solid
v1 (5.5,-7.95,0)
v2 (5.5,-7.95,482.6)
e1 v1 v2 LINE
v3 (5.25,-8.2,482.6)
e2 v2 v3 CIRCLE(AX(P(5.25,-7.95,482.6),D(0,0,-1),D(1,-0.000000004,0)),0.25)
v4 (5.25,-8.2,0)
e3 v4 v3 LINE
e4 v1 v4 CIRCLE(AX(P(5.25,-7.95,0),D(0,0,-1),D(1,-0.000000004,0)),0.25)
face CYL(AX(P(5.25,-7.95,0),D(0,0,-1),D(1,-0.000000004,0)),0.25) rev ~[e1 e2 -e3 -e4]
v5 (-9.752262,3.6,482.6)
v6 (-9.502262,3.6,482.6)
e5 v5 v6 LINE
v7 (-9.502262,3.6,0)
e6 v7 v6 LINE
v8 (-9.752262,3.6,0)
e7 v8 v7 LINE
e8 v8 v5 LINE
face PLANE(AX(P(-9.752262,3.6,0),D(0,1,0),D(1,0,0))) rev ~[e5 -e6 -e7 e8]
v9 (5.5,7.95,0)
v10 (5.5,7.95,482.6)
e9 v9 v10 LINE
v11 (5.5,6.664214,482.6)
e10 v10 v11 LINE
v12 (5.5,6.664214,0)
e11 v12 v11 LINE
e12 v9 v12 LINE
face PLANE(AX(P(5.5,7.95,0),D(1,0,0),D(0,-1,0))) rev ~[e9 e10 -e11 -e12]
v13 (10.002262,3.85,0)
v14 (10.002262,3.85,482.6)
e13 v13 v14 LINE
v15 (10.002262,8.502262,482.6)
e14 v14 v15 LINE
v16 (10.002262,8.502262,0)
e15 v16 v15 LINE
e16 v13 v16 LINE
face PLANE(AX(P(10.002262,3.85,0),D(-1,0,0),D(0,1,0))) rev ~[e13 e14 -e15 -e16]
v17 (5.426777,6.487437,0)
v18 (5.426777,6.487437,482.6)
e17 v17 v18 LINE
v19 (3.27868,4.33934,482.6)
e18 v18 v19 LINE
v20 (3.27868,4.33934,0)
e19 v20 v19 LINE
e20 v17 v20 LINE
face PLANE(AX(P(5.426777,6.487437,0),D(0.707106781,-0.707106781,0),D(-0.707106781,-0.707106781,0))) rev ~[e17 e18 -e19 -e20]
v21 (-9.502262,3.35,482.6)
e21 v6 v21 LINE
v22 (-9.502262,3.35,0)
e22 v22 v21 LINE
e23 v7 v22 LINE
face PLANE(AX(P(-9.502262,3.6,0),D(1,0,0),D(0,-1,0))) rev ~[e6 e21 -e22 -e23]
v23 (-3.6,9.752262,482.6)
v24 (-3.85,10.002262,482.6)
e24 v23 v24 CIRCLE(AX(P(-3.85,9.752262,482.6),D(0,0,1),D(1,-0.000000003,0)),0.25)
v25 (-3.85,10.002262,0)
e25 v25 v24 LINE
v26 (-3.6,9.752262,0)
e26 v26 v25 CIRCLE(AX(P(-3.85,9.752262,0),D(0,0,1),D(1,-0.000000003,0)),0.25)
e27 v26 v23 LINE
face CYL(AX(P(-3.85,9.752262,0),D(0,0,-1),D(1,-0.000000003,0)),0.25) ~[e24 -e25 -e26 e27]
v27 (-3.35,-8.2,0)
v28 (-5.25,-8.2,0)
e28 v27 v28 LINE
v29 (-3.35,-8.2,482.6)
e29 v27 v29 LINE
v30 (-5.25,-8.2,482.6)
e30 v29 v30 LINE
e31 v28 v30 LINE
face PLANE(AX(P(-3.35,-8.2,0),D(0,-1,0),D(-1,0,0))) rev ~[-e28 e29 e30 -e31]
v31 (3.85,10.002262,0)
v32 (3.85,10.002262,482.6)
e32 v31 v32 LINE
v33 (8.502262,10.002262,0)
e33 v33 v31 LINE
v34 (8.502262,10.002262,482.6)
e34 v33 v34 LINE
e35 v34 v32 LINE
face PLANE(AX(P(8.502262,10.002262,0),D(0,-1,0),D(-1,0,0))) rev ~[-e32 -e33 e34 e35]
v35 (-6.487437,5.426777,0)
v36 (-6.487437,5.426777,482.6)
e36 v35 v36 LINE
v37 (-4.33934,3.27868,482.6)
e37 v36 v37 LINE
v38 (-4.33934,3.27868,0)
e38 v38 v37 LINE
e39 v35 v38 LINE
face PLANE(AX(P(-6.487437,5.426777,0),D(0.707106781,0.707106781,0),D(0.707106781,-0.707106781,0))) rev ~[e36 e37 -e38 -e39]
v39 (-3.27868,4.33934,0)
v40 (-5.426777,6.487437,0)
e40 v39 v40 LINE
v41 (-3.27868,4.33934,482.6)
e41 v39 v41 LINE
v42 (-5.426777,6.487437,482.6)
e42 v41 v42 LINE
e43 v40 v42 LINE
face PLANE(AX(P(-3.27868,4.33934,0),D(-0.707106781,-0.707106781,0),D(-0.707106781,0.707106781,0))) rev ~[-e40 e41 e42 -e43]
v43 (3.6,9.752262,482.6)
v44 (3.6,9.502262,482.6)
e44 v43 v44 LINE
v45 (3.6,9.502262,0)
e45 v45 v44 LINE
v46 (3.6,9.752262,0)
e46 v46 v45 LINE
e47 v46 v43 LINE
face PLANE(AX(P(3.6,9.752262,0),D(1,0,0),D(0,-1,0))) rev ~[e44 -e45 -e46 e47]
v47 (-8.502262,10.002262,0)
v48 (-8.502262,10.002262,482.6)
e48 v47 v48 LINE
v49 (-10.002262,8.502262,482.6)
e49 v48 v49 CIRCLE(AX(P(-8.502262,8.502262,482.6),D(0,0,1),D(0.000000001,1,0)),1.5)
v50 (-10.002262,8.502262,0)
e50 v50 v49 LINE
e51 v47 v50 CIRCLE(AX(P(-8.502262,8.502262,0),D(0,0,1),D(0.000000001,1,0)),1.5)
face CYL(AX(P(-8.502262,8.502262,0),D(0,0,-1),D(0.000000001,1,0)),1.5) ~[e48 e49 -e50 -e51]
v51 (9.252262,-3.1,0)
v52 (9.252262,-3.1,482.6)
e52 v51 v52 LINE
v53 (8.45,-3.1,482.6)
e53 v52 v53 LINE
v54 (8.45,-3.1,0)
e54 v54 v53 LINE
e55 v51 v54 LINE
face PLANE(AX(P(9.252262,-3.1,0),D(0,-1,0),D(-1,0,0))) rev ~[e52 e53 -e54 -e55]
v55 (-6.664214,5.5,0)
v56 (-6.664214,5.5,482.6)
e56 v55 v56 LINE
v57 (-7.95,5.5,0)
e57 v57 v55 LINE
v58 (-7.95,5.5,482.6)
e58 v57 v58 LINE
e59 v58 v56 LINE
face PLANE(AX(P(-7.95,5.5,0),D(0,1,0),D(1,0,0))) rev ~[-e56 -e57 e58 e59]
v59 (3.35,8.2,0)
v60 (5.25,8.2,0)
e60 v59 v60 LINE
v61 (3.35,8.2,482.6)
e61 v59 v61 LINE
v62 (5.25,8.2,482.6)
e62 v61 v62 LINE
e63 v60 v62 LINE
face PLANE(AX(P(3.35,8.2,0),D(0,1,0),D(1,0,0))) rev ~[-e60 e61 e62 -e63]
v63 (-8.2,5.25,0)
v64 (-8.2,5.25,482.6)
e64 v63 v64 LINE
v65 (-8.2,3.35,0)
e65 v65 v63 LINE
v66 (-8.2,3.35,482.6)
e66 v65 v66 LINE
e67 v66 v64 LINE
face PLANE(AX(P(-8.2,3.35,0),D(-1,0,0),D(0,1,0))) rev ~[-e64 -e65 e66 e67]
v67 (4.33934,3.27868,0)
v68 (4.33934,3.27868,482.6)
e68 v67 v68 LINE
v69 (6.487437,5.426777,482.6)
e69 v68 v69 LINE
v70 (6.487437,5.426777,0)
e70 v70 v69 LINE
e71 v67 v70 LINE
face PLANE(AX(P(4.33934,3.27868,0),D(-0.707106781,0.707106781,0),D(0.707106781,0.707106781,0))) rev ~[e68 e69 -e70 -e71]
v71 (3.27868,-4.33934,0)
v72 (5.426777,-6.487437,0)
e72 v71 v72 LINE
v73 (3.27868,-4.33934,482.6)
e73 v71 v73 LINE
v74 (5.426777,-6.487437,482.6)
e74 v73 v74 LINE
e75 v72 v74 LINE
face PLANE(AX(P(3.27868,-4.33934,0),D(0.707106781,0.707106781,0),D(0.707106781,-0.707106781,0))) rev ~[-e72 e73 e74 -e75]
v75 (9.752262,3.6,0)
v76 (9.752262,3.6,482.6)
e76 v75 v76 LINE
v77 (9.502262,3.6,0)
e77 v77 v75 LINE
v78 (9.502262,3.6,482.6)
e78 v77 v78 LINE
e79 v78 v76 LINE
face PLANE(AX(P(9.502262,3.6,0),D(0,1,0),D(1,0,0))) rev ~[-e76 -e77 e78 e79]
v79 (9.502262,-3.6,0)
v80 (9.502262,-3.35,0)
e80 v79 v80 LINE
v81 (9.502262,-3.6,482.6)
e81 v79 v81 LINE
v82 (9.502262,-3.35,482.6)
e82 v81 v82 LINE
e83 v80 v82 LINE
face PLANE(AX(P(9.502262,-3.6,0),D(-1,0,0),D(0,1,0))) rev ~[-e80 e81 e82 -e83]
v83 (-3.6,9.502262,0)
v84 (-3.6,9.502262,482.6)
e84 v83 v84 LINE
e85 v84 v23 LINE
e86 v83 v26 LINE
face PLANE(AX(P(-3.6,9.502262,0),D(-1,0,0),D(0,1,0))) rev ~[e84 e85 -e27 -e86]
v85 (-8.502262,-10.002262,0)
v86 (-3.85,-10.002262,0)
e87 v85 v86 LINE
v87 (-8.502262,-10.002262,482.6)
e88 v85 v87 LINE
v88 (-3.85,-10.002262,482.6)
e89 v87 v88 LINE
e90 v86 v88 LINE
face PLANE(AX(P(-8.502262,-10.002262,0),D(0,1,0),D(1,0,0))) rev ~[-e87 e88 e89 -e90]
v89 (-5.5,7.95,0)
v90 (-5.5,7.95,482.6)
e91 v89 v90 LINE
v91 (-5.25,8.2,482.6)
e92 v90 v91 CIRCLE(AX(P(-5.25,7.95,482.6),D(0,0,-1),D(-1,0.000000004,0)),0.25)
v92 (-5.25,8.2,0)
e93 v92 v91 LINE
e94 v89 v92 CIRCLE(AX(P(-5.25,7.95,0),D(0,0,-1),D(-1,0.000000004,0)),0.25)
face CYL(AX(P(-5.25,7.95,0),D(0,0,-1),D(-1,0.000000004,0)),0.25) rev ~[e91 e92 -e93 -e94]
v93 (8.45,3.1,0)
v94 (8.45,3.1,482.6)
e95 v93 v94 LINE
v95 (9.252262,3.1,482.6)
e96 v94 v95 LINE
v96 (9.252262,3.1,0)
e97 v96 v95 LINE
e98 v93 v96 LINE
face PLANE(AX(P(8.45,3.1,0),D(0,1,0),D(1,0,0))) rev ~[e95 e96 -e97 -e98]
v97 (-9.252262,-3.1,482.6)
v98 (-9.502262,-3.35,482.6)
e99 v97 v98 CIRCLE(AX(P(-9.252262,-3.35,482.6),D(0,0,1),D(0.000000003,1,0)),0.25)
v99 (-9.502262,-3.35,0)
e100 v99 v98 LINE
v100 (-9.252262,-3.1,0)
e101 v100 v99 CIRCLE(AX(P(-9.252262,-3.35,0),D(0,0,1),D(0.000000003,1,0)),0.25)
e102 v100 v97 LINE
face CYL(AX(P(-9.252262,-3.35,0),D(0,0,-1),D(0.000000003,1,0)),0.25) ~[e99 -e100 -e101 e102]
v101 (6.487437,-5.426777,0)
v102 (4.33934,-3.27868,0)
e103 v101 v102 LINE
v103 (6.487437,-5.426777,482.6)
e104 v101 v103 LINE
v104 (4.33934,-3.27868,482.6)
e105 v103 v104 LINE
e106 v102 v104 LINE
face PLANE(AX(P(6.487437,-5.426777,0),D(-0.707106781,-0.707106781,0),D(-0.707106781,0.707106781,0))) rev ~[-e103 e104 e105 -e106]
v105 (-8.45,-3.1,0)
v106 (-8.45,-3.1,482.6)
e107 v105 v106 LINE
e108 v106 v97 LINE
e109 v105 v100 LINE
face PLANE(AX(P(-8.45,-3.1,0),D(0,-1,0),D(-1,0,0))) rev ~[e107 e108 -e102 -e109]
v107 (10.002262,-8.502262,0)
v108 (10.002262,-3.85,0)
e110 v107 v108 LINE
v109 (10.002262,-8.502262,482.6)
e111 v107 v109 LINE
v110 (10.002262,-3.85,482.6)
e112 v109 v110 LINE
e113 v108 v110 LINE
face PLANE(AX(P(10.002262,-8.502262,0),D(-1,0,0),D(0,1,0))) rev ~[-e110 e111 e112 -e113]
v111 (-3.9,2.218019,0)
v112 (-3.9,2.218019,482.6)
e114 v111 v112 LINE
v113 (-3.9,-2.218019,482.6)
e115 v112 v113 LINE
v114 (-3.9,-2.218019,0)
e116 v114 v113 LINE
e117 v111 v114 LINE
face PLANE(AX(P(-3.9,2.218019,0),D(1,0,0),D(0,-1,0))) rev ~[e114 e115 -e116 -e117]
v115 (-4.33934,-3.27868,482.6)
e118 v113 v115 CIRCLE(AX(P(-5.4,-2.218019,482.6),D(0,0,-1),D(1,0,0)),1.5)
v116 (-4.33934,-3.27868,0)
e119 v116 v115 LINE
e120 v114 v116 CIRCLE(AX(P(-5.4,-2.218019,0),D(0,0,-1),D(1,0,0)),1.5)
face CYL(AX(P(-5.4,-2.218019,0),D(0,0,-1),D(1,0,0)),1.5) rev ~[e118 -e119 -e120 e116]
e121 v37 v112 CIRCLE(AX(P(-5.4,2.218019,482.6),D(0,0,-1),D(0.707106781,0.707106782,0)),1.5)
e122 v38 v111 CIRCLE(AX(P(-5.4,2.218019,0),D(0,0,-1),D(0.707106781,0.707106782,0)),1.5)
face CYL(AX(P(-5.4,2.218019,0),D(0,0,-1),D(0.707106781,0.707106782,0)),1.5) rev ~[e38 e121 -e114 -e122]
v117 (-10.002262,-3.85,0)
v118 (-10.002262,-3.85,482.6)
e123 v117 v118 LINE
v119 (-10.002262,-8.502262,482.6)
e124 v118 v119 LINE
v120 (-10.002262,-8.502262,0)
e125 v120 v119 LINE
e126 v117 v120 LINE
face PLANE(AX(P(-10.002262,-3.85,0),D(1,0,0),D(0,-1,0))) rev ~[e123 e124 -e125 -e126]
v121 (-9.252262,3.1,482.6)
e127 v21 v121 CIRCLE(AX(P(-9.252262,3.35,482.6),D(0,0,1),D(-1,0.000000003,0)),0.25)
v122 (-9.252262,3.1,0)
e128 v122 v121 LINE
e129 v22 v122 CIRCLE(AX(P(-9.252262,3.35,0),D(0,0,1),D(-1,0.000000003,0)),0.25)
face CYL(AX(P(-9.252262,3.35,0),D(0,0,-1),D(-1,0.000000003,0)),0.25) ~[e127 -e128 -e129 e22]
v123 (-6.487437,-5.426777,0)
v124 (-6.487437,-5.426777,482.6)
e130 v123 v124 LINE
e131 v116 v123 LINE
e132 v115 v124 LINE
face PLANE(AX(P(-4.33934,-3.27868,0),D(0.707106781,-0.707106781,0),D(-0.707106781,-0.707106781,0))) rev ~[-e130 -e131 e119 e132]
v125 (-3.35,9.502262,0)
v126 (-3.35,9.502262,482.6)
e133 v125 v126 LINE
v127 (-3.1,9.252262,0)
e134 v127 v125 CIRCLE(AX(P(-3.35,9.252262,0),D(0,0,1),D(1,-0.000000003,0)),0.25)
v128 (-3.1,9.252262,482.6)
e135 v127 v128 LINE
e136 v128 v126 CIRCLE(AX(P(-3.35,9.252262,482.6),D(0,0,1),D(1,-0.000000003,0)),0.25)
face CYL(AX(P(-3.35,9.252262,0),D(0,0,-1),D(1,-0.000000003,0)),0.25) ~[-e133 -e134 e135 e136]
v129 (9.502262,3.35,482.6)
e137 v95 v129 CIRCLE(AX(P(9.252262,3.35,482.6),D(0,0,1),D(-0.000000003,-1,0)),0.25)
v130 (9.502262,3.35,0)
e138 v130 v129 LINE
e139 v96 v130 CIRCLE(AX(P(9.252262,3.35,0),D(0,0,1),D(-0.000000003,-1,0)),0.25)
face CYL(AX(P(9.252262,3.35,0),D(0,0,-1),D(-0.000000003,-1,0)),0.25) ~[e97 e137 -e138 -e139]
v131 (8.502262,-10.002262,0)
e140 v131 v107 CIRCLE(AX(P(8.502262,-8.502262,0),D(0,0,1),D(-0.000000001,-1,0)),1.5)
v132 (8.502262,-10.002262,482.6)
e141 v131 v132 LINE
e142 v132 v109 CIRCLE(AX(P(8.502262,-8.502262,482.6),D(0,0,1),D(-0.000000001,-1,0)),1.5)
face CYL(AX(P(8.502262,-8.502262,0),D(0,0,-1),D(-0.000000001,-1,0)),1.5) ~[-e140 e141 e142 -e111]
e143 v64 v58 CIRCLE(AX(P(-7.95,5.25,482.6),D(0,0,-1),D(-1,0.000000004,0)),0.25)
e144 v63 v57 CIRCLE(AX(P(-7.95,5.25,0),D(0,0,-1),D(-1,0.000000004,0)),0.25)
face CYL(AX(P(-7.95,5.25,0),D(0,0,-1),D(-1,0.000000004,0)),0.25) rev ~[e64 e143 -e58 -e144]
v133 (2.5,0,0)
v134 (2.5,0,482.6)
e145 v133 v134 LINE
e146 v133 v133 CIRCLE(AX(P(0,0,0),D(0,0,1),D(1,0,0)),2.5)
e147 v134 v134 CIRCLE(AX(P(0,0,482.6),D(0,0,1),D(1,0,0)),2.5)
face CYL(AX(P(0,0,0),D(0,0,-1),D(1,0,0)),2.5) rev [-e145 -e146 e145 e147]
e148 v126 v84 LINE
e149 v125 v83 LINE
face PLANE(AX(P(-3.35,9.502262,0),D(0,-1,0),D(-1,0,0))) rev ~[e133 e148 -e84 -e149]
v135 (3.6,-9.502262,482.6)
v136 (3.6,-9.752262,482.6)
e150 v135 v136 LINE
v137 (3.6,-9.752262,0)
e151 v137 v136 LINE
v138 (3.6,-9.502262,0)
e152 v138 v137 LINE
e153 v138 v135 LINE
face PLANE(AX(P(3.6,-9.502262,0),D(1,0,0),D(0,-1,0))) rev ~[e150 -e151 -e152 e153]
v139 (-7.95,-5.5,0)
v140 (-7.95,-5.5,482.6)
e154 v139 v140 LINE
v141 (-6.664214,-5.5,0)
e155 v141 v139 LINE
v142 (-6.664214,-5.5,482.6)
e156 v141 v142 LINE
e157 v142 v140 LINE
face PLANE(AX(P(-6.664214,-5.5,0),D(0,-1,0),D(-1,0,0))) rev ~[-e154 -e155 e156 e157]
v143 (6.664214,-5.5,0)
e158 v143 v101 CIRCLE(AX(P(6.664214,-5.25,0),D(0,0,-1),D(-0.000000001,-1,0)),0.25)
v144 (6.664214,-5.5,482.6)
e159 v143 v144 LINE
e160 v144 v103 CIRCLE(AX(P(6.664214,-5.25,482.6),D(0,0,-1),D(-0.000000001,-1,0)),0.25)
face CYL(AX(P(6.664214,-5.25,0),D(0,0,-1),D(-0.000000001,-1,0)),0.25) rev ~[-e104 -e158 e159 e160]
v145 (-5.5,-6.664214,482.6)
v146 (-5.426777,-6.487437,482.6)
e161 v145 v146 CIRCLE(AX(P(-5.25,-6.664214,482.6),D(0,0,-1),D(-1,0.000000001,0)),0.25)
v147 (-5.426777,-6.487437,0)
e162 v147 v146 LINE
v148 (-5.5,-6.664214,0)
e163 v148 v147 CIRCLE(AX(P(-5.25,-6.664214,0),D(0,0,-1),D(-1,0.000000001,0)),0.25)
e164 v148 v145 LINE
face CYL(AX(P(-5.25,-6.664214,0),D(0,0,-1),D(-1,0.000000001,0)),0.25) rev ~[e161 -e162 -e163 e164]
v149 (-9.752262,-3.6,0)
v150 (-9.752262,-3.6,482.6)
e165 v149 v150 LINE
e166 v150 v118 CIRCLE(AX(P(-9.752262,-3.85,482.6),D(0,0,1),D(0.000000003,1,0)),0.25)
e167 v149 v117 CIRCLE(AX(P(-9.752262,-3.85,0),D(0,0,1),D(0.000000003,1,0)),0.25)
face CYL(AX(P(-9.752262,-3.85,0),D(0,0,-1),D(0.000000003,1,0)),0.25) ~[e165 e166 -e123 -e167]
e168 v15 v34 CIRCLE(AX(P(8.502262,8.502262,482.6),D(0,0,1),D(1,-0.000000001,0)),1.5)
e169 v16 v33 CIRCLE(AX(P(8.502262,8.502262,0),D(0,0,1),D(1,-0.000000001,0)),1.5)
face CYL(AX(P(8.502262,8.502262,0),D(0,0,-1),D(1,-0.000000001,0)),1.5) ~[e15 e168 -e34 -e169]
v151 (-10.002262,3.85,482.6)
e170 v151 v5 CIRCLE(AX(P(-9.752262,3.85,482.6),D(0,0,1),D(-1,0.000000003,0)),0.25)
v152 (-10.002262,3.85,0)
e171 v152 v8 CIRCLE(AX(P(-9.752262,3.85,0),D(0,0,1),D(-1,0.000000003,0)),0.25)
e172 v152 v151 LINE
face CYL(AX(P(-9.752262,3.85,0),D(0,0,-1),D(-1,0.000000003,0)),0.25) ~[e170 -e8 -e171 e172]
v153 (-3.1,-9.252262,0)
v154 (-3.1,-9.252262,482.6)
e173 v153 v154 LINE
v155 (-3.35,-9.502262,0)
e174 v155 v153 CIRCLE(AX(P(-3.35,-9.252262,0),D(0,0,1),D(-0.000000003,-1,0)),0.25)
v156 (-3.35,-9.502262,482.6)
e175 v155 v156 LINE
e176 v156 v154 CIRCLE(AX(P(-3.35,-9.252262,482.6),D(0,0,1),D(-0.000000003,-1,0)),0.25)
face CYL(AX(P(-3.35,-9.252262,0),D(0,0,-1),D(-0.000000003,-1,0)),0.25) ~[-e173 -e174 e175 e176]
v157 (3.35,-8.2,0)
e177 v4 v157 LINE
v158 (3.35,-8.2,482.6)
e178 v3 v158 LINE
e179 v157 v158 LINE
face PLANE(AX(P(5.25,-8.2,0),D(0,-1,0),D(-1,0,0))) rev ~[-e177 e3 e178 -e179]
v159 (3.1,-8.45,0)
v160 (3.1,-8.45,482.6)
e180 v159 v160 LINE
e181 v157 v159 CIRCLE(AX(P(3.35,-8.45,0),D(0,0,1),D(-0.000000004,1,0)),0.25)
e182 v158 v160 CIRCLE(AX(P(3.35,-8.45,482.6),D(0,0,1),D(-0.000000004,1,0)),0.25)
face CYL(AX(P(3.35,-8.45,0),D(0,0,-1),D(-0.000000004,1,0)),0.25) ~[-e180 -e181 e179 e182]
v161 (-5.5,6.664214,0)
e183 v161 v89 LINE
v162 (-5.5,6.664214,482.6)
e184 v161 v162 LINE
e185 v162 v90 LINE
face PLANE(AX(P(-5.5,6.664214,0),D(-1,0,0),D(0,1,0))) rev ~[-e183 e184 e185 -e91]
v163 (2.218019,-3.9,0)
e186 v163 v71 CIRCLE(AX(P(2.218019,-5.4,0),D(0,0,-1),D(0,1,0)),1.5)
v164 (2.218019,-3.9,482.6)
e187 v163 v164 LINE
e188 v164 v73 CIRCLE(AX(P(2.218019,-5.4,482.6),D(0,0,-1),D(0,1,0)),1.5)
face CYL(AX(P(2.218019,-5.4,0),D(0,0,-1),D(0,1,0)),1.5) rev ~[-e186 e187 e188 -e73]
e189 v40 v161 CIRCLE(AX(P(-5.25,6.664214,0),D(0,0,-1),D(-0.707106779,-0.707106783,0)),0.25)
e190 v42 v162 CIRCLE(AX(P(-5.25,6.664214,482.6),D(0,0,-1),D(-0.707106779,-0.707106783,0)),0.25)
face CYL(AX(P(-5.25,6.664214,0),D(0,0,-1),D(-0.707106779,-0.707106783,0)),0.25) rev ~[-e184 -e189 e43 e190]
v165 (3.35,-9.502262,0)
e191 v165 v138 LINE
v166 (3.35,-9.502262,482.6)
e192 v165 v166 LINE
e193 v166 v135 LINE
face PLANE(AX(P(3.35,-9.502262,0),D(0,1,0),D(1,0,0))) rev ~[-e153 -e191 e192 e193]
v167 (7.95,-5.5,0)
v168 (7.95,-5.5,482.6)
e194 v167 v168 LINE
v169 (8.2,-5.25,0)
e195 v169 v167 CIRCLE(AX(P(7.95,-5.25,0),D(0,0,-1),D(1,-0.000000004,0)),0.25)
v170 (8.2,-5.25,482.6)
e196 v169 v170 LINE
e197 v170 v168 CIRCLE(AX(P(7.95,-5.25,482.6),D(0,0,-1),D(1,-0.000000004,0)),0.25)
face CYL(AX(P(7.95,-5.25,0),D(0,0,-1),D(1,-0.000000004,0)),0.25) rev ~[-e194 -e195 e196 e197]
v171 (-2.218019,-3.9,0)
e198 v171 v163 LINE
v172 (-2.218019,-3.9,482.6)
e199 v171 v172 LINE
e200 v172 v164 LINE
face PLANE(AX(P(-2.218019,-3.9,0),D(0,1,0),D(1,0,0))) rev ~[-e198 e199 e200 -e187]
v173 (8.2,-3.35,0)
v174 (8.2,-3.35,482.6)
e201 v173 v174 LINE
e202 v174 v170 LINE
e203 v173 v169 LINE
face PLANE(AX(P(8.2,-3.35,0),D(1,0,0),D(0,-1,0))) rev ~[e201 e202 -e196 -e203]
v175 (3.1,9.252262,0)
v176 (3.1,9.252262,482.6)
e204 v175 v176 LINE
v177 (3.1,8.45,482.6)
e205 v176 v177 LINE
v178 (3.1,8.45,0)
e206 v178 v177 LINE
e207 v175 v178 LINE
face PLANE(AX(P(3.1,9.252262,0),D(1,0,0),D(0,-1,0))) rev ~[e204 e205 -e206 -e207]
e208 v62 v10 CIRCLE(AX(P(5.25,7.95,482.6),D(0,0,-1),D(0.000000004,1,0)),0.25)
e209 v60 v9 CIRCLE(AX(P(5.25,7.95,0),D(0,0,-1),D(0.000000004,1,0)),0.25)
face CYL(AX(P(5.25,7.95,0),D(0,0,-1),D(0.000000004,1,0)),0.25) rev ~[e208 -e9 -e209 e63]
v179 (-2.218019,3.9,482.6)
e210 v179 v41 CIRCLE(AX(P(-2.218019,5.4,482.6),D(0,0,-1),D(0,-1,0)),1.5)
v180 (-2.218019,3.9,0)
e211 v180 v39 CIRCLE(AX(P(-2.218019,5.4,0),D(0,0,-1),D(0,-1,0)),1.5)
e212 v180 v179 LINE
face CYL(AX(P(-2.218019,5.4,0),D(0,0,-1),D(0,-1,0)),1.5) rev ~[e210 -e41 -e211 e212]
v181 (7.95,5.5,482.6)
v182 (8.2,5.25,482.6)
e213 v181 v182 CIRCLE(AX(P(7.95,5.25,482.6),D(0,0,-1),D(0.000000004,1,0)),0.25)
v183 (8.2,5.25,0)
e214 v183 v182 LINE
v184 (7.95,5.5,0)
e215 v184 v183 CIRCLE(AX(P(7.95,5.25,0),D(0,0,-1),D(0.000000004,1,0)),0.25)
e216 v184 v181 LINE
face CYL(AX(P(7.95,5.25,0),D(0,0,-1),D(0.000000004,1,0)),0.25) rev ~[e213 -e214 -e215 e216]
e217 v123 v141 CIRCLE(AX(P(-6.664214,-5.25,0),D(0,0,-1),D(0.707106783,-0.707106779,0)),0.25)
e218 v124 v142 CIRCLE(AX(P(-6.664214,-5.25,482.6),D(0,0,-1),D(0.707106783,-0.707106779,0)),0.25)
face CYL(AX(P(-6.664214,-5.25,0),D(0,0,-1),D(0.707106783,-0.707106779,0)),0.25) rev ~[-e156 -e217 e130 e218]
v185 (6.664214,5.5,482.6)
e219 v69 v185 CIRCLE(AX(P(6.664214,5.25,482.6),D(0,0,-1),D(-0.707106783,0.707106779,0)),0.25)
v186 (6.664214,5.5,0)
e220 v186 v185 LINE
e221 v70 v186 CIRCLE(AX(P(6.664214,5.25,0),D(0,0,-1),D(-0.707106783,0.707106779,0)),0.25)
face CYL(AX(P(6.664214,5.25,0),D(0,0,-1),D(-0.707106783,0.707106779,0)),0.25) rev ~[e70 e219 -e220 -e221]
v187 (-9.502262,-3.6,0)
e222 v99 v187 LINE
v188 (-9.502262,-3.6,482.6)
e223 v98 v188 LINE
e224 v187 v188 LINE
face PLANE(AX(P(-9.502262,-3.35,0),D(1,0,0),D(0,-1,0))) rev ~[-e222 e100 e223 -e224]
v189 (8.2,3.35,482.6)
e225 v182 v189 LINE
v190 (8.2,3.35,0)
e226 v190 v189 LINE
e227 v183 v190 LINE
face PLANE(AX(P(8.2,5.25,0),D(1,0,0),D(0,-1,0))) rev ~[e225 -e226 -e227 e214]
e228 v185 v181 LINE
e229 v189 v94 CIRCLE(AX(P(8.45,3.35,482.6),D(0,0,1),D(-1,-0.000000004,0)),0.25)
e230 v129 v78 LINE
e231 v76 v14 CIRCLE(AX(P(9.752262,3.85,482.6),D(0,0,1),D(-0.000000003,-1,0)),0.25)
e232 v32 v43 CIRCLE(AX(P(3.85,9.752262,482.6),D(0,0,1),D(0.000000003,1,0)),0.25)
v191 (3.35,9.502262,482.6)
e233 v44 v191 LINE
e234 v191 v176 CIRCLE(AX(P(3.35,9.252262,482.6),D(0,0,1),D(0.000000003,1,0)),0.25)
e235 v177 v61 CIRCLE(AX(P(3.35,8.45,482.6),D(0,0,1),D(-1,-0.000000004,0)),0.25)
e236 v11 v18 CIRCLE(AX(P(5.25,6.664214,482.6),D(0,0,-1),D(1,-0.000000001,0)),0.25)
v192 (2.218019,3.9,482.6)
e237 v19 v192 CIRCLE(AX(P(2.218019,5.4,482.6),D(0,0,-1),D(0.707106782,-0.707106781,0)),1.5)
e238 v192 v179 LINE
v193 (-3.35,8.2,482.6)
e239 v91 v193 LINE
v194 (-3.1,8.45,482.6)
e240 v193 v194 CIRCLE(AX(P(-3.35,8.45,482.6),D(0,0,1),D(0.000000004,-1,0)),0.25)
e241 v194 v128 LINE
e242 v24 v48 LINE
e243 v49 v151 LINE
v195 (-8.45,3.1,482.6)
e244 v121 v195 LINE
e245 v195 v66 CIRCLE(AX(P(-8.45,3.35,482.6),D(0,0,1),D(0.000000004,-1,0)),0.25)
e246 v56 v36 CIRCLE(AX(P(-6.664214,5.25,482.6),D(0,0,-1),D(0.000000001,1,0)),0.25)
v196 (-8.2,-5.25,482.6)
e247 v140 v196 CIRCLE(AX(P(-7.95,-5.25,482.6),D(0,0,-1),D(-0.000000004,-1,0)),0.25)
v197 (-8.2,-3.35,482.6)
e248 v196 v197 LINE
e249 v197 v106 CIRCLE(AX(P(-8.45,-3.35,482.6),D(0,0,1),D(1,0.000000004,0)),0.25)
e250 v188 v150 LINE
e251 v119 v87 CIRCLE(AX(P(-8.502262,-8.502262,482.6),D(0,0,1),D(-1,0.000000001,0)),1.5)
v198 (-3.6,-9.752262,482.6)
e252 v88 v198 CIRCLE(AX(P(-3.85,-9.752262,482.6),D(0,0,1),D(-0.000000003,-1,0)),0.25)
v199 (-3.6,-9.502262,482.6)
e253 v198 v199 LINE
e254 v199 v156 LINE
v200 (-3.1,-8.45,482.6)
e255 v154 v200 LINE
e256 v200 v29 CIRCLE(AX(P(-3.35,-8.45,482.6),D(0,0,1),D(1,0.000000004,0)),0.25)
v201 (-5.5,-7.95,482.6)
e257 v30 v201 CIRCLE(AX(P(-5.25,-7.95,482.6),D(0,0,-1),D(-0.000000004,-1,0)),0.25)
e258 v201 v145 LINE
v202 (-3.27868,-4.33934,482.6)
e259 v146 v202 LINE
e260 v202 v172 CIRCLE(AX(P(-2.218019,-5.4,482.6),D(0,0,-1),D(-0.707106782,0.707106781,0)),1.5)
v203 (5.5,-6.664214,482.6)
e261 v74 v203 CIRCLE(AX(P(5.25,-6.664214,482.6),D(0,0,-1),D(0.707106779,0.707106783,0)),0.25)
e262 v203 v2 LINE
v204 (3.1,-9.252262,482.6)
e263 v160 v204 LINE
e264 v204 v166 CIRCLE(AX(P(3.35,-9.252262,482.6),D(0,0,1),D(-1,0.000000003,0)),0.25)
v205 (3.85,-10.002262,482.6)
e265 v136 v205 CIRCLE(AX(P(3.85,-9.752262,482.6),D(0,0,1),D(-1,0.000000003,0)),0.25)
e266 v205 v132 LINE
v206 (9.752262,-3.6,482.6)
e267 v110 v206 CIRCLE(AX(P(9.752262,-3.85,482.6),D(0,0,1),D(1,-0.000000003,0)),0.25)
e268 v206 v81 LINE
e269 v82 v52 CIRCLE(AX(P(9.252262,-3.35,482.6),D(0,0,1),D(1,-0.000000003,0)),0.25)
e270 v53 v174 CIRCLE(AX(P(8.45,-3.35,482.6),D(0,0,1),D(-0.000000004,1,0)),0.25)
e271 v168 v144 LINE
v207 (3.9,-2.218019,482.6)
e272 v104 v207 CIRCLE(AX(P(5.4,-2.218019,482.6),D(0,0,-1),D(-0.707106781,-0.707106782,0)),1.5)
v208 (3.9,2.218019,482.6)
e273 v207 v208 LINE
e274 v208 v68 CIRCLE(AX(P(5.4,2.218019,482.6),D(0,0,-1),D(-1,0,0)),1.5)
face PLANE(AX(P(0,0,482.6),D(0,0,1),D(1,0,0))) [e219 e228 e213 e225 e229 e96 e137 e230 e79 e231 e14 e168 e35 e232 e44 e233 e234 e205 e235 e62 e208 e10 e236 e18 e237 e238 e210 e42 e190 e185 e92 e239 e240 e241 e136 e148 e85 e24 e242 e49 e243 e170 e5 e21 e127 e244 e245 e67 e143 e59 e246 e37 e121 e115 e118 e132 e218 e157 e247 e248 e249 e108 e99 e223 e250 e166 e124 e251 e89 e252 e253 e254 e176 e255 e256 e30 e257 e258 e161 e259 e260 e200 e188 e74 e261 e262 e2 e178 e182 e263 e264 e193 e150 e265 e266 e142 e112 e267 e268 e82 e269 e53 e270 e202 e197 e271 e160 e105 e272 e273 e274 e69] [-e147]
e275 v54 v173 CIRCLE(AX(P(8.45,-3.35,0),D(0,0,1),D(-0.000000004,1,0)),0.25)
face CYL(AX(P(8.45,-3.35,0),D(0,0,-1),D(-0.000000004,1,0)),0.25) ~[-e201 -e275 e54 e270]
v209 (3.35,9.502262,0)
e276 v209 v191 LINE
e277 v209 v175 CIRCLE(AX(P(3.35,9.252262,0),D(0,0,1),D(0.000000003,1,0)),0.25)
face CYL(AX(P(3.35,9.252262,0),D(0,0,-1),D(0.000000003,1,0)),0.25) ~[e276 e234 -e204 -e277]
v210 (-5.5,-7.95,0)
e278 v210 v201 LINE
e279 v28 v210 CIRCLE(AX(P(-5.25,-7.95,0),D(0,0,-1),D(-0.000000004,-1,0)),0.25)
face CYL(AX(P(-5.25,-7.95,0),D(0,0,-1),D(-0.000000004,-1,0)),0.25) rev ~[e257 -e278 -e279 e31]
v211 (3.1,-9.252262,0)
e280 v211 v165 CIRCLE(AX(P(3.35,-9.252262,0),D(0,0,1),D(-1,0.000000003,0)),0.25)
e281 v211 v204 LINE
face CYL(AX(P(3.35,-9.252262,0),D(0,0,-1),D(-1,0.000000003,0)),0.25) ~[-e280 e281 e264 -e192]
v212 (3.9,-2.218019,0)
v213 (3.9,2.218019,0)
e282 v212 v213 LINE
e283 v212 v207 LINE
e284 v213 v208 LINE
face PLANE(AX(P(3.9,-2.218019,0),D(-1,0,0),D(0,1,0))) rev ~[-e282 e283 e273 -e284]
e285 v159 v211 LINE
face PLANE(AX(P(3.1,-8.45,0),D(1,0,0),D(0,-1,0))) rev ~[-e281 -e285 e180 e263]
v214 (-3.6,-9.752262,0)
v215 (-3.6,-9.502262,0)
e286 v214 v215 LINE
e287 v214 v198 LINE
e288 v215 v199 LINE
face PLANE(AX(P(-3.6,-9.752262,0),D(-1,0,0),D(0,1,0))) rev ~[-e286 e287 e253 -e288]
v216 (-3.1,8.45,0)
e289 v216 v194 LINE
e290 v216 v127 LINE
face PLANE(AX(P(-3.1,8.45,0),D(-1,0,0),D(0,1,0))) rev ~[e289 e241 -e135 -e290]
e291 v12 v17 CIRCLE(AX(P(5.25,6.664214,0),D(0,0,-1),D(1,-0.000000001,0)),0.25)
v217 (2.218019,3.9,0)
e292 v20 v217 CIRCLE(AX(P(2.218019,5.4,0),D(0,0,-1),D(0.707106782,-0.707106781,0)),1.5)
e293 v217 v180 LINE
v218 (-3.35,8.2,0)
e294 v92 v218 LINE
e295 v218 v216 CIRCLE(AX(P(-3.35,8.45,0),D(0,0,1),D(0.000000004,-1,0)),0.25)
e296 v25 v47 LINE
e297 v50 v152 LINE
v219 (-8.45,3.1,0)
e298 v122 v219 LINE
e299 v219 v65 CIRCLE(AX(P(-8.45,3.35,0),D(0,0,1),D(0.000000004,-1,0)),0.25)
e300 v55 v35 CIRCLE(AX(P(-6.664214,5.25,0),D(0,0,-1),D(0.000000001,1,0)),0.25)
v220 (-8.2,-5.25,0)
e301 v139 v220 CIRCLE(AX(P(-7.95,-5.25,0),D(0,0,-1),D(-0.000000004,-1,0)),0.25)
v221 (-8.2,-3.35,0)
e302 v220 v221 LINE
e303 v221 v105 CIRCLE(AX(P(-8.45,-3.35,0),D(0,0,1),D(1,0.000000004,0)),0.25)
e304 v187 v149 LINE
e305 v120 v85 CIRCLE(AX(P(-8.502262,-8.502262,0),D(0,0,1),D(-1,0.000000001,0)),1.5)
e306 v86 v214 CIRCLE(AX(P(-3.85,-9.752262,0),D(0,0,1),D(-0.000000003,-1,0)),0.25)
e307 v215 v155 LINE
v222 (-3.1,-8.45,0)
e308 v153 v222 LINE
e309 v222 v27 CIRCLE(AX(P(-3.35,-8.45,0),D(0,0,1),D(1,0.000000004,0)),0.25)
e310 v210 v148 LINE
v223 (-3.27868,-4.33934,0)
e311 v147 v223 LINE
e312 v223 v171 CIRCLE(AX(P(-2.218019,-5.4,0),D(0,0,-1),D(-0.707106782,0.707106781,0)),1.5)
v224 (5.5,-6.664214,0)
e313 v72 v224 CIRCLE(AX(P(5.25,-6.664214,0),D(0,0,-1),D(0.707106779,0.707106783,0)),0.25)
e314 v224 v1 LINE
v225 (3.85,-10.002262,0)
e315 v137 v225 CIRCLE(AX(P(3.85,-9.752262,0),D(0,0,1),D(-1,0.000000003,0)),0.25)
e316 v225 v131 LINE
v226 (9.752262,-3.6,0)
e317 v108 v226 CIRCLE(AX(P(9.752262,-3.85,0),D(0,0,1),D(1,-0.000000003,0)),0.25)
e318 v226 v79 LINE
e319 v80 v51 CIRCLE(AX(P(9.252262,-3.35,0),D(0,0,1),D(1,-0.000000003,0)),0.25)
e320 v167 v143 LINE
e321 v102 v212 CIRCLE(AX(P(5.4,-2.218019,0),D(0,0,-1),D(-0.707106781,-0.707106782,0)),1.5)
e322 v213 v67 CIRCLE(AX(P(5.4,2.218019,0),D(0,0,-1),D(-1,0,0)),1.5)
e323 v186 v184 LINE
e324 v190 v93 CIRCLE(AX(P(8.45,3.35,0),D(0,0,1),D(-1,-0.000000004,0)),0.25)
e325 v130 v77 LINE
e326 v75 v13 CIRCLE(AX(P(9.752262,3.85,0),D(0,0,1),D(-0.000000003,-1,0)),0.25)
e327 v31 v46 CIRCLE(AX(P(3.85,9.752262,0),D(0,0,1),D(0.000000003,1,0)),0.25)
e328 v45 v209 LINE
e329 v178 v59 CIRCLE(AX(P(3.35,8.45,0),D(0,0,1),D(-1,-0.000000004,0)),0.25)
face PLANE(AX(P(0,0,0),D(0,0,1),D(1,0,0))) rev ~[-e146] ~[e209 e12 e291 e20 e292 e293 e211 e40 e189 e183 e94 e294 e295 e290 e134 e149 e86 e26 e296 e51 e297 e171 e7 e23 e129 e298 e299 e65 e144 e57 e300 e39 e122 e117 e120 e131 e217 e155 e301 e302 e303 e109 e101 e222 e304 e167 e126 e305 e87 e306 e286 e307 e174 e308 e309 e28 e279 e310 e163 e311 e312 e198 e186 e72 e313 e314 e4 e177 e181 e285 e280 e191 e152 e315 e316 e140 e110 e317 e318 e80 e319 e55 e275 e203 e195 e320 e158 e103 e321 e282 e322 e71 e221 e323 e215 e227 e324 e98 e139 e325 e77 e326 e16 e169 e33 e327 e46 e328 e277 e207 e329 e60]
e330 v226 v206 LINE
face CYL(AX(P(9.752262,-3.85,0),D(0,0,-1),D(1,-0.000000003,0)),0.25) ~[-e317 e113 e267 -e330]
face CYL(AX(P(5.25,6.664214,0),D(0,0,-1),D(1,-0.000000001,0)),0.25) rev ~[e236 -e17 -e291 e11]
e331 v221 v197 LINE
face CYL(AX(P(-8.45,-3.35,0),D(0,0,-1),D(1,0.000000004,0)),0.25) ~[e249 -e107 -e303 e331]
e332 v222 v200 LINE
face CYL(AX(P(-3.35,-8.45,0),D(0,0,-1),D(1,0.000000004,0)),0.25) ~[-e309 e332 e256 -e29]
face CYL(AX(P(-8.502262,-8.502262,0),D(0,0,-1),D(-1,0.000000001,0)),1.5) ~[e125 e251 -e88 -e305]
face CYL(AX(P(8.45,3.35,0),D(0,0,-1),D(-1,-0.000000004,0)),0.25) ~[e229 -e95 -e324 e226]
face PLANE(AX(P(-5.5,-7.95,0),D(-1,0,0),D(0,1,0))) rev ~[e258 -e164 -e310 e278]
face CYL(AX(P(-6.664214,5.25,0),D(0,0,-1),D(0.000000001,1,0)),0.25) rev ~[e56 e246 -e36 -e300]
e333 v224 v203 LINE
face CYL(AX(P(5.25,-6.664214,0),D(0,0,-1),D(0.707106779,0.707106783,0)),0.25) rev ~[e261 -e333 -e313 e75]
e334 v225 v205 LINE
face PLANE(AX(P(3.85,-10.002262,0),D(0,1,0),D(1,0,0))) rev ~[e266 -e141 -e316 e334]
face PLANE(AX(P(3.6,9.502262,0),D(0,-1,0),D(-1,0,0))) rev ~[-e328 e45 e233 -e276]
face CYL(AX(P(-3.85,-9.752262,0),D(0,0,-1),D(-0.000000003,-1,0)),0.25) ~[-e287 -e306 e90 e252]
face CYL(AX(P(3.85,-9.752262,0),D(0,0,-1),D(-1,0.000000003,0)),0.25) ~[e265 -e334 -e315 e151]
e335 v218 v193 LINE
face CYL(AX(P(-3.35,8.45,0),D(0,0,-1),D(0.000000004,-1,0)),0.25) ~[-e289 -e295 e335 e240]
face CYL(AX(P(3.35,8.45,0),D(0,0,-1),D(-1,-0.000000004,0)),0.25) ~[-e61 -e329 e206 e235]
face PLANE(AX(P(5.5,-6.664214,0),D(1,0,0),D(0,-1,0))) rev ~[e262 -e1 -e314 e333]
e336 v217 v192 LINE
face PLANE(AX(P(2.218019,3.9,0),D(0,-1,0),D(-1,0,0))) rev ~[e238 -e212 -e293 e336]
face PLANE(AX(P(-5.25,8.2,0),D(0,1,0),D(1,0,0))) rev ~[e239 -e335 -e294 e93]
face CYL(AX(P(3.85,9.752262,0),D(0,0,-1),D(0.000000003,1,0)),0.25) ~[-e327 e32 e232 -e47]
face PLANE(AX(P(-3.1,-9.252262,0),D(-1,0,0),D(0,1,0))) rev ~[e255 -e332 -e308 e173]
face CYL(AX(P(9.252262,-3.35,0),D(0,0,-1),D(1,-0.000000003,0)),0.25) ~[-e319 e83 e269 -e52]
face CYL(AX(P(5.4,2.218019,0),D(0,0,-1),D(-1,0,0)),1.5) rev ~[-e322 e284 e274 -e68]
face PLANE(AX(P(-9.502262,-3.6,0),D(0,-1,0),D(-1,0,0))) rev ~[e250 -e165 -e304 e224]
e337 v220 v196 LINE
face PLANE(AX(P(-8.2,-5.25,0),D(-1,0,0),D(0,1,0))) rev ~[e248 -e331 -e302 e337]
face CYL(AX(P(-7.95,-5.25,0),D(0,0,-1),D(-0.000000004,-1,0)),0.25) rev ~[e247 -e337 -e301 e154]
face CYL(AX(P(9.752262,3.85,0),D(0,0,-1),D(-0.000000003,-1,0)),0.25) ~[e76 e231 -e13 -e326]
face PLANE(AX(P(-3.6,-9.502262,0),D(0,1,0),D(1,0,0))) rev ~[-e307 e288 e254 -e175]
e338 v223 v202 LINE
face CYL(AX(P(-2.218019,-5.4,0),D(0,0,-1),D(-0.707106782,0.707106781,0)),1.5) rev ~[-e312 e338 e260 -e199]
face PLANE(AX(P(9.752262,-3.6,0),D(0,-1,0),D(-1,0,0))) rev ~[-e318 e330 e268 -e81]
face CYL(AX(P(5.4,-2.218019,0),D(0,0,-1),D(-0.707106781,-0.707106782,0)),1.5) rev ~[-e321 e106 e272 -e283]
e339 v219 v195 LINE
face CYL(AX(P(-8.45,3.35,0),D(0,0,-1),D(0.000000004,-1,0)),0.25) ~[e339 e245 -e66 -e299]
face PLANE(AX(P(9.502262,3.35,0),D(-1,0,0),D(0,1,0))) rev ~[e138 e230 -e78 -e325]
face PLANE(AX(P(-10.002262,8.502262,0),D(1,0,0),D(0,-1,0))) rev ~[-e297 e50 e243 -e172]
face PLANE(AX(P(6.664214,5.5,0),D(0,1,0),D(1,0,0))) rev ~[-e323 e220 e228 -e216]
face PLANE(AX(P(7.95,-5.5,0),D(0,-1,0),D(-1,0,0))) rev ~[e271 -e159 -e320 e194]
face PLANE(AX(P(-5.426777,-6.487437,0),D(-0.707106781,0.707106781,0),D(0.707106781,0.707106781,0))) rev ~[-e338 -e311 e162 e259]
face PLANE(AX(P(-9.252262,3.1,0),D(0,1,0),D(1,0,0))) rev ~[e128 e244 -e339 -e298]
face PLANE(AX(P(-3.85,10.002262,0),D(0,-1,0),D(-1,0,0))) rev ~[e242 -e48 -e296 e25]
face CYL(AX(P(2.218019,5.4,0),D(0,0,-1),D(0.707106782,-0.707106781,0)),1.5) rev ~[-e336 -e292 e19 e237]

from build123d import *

# Parameters (mm, degrees)
SKETCH_1_R      = 2.5
EXTRUDE_1_DEPTH = 482.6


with BuildPart() as part:
    # 草图1 → 凸台-拉伸1 (new body)
    with BuildSketch(Plane.XY):
        with BuildLine():
            Line((-8.502261885, -10.002261885), (-3.85, -10.002261885))
            ThreePointArc((-3.85, -10.002261885), (-3.673223305, -9.929038581), (-3.6, -9.752261885))
            Line((-3.6, -9.752261885), (-3.6, -9.502261885))
            Line((-3.6, -9.502261885), (-3.35, -9.502261885))
            ThreePointArc((-3.35, -9.502261885), (-3.173223305, -9.429038581), (-3.1, -9.252261885))
            Line((-3.1, -9.252261885), (-3.1, -8.45))
            ThreePointArc((-3.1, -8.45), (-3.173223305, -8.273223305), (-3.35, -8.2))
            Line((-3.35, -8.2), (-5.25, -8.2))
            ThreePointArc((-5.25, -8.2), (-5.426776695, -8.126776695), (-5.5, -7.95))
            Line((-5.5, -7.95), (-5.5, -6.664213562))
            ThreePointArc((-5.5, -6.664213562), (-5.480969883, -6.568542704), (-5.426776695, -6.487436867))
            Line((-5.426776695, -6.487436867), (-3.278679656, -4.339339828))
            ThreePointArc((-3.278679656, -4.339339828), (-2.792044633, -4.014180701), (-2.218019485, -3.9))
            Line((-2.218019485, -3.9), (2.218019485, -3.9))
            ThreePointArc((2.218019485, -3.9), (2.792044633, -4.014180701), (3.278679656, -4.339339828))
            Line((3.278679656, -4.339339828), (5.426776695, -6.487436867))
            ThreePointArc((5.426776695, -6.487436867), (5.480969883, -6.568542704), (5.5, -6.664213562))
            Line((5.5, -6.664213562), (5.5, -7.95))
            ThreePointArc((5.5, -7.95), (5.426776695, -8.126776695), (5.25, -8.2))
            Line((5.25, -8.2), (3.35, -8.2))
            ThreePointArc((3.35, -8.2), (3.173223305, -8.273223305), (3.1, -8.45))
            Line((3.1, -8.45), (3.1, -9.252261885))
            ThreePointArc((3.1, -9.252261885), (3.173223305, -9.429038581), (3.35, -9.502261885))
            Line((3.35, -9.502261885), (3.6, -9.502261885))
            Line((3.6, -9.502261885), (3.6, -9.752261885))
            ThreePointArc((3.6, -9.752261885), (3.673223305, -9.929038581), (3.85, -10.002261885))
            Line((3.85, -10.002261885), (8.502261885, -10.002261885))
            ThreePointArc((8.502261885, -10.002261885), (9.562922057, -9.562922057), (10.002261885, -8.502261885))
            Line((10.002261885, -8.502261885), (10.002261885, -3.85))
            ThreePointArc((10.002261885, -3.85), (9.929038581, -3.673223305), (9.752261885, -3.6))
            Line((9.752261885, -3.6), (9.502261885, -3.6))
            Line((9.502261885, -3.6), (9.502261885, -3.35))
            ThreePointArc((9.502261885, -3.35), (9.429038581, -3.173223305), (9.252261885, -3.1))
            Line((9.252261885, -3.1), (8.45, -3.1))
            ThreePointArc((8.45, -3.1), (8.273223305, -3.173223305), (8.2, -3.35))
            Line((8.2, -3.35), (8.2, -5.25))
            ThreePointArc((8.2, -5.25), (8.126776695, -5.426776695), (7.95, -5.5))
            Line((7.95, -5.5), (6.664213562, -5.5))
            ThreePointArc((6.664213562, -5.5), (6.568542704, -5.480969883), (6.487436867, -5.426776695))
            Line((6.487436867, -5.426776695), (4.339339828, -3.278679656))
            ThreePointArc((4.339339828, -3.278679656), (4.014180701, -2.792044633), (3.9, -2.218019485))
            Line((3.9, -2.218019485), (3.9, 2.218019485))
            ThreePointArc((3.9, 2.218019485), (4.014180701, 2.792044633), (4.339339828, 3.278679656))
            Line((4.339339828, 3.278679656), (6.487436867, 5.426776695))
            ThreePointArc((6.487436867, 5.426776695), (6.568542704, 5.480969883), (6.664213562, 5.5))
            Line((6.664213562, 5.5), (7.95, 5.5))
            ThreePointArc((7.95, 5.5), (8.126776695, 5.426776695), (8.2, 5.25))
            Line((8.2, 5.25), (8.2, 3.35))
            ThreePointArc((8.2, 3.35), (8.273223305, 3.173223305), (8.45, 3.1))
            Line((8.45, 3.1), (9.252261885, 3.1))
            ThreePointArc((9.252261885, 3.1), (9.429038581, 3.173223305), (9.502261885, 3.35))
            Line((9.502261885, 3.35), (9.502261885, 3.6))
            Line((9.502261885, 3.6), (9.752261885, 3.6))
            ThreePointArc((9.752261885, 3.6), (9.929038581, 3.673223305), (10.002261885, 3.85))
            Line((10.002261885, 3.85), (10.002261885, 8.502261885))
            ThreePointArc((10.002261885, 8.502261885), (9.562922057, 9.562922057), (8.502261885, 10.002261885))
            Line((8.502261885, 10.002261885), (3.85, 10.002261885))
            ThreePointArc((3.85, 10.002261885), (3.673223305, 9.929038581), (3.6, 9.752261885))
            Line((3.6, 9.752261885), (3.6, 9.502261885))
            Line((3.6, 9.502261885), (3.35, 9.502261885))
            ThreePointArc((3.35, 9.502261885), (3.173223305, 9.429038581), (3.1, 9.252261885))
            Line((3.1, 9.252261885), (3.1, 8.45))
            ThreePointArc((3.1, 8.45), (3.173223305, 8.273223305), (3.35, 8.2))
            Line((3.35, 8.2), (5.25, 8.2))
            ThreePointArc((5.25, 8.2), (5.426776695, 8.126776695), (5.5, 7.95))
            Line((5.5, 7.95), (5.5, 6.664213562))
            ThreePointArc((5.5, 6.664213562), (5.480969883, 6.568542704), (5.426776695, 6.487436867))
            Line((5.426776695, 6.487436867), (3.278679656, 4.339339828))
            ThreePointArc((3.278679656, 4.339339828), (2.792044633, 4.014180701), (2.218019485, 3.9))
            Line((2.218019485, 3.9), (-2.218019485, 3.9))
            ThreePointArc((-2.218019485, 3.9), (-2.792044633, 4.014180701), (-3.278679656, 4.339339828))
            Line((-3.278679656, 4.339339828), (-5.426776695, 6.487436867))
            ThreePointArc((-5.426776695, 6.487436867), (-5.480969883, 6.568542704), (-5.5, 6.664213562))
            Line((-5.5, 6.664213562), (-5.5, 7.95))
            ThreePointArc((-5.5, 7.95), (-5.426776695, 8.126776695), (-5.25, 8.2))
            Line((-5.25, 8.2), (-3.35, 8.2))
            ThreePointArc((-3.35, 8.2), (-3.173223305, 8.273223305), (-3.1, 8.45))
            Line((-3.1, 8.45), (-3.1, 9.252261885))
            ThreePointArc((-3.1, 9.252261885), (-3.173223305, 9.429038581), (-3.35, 9.502261885))
            Line((-3.35, 9.502261885), (-3.6, 9.502261885))
            Line((-3.6, 9.502261885), (-3.6, 9.752261885))
            ThreePointArc((-3.6, 9.752261885), (-3.673223305, 9.929038581), (-3.85, 10.002261885))
            Line((-3.85, 10.002261885), (-8.502261885, 10.002261885))
            ThreePointArc((-8.502261885, 10.002261885), (-9.562922057, 9.562922057), (-10.002261885, 8.502261885))
            Line((-10.002261885, 8.502261885), (-10.002261885, 3.85))
            ThreePointArc((-10.002261885, 3.85), (-9.929038581, 3.673223305), (-9.752261885, 3.6))
            Line((-9.752261885, 3.6), (-9.502261885, 3.6))
            Line((-9.502261885, 3.6), (-9.502261885, 3.35))
            ThreePointArc((-9.502261885, 3.35), (-9.429038581, 3.173223305), (-9.252261885, 3.1))
            Line((-9.252261885, 3.1), (-8.45, 3.1))
            ThreePointArc((-8.45, 3.1), (-8.273223305, 3.173223305), (-8.2, 3.35))
            Line((-8.2, 3.35), (-8.2, 5.25))
            ThreePointArc((-8.2, 5.25), (-8.126776695, 5.426776695), (-7.95, 5.5))
            Line((-7.95, 5.5), (-6.664213562, 5.5))
            ThreePointArc((-6.664213562, 5.5), (-6.568542704, 5.480969883), (-6.487436867, 5.426776695))
            Line((-6.487436867, 5.426776695), (-4.339339828, 3.278679656))
            ThreePointArc((-4.339339828, 3.278679656), (-4.014180701, 2.792044633), (-3.9, 2.218019485))
            Line((-3.9, 2.218019485), (-3.9, -2.218019485))
            ThreePointArc((-3.9, -2.218019485), (-4.014180701, -2.792044633), (-4.339339828, -3.278679656))
            Line((-4.339339828, -3.278679656), (-6.487436867, -5.426776695))
            ThreePointArc((-6.487436867, -5.426776695), (-6.568542704, -5.480969883), (-6.664213562, -5.5))
            Line((-6.664213562, -5.5), (-7.95, -5.5))
            ThreePointArc((-7.95, -5.5), (-8.126776695, -5.426776695), (-8.2, -5.25))
            Line((-8.2, -5.25), (-8.2, -3.35))
            ThreePointArc((-8.2, -3.35), (-8.273223305, -3.173223305), (-8.45, -3.1))
            Line((-8.45, -3.1), (-9.252261885, -3.1))
            ThreePointArc((-9.252261885, -3.1), (-9.429038581, -3.173223305), (-9.502261885, -3.35))
            Line((-9.502261885, -3.35), (-9.502261885, -3.6))
            Line((-9.502261885, -3.6), (-9.752261885, -3.6))
            ThreePointArc((-9.752261885, -3.6), (-9.929038581, -3.673223305), (-10.002261885, -3.85))
            Line((-10.002261885, -3.85), (-10.002261885, -8.502261885))
            ThreePointArc((-10.002261885, -8.502261885), (-9.562922057, -9.562922057), (-8.502261885, -10.002261885))
        make_face()
        Circle(SKETCH_1_R, mode=Mode.SUBTRACT)
    extrude(amount=EXTRUDE_1_DEPTH)


solid = part.part
